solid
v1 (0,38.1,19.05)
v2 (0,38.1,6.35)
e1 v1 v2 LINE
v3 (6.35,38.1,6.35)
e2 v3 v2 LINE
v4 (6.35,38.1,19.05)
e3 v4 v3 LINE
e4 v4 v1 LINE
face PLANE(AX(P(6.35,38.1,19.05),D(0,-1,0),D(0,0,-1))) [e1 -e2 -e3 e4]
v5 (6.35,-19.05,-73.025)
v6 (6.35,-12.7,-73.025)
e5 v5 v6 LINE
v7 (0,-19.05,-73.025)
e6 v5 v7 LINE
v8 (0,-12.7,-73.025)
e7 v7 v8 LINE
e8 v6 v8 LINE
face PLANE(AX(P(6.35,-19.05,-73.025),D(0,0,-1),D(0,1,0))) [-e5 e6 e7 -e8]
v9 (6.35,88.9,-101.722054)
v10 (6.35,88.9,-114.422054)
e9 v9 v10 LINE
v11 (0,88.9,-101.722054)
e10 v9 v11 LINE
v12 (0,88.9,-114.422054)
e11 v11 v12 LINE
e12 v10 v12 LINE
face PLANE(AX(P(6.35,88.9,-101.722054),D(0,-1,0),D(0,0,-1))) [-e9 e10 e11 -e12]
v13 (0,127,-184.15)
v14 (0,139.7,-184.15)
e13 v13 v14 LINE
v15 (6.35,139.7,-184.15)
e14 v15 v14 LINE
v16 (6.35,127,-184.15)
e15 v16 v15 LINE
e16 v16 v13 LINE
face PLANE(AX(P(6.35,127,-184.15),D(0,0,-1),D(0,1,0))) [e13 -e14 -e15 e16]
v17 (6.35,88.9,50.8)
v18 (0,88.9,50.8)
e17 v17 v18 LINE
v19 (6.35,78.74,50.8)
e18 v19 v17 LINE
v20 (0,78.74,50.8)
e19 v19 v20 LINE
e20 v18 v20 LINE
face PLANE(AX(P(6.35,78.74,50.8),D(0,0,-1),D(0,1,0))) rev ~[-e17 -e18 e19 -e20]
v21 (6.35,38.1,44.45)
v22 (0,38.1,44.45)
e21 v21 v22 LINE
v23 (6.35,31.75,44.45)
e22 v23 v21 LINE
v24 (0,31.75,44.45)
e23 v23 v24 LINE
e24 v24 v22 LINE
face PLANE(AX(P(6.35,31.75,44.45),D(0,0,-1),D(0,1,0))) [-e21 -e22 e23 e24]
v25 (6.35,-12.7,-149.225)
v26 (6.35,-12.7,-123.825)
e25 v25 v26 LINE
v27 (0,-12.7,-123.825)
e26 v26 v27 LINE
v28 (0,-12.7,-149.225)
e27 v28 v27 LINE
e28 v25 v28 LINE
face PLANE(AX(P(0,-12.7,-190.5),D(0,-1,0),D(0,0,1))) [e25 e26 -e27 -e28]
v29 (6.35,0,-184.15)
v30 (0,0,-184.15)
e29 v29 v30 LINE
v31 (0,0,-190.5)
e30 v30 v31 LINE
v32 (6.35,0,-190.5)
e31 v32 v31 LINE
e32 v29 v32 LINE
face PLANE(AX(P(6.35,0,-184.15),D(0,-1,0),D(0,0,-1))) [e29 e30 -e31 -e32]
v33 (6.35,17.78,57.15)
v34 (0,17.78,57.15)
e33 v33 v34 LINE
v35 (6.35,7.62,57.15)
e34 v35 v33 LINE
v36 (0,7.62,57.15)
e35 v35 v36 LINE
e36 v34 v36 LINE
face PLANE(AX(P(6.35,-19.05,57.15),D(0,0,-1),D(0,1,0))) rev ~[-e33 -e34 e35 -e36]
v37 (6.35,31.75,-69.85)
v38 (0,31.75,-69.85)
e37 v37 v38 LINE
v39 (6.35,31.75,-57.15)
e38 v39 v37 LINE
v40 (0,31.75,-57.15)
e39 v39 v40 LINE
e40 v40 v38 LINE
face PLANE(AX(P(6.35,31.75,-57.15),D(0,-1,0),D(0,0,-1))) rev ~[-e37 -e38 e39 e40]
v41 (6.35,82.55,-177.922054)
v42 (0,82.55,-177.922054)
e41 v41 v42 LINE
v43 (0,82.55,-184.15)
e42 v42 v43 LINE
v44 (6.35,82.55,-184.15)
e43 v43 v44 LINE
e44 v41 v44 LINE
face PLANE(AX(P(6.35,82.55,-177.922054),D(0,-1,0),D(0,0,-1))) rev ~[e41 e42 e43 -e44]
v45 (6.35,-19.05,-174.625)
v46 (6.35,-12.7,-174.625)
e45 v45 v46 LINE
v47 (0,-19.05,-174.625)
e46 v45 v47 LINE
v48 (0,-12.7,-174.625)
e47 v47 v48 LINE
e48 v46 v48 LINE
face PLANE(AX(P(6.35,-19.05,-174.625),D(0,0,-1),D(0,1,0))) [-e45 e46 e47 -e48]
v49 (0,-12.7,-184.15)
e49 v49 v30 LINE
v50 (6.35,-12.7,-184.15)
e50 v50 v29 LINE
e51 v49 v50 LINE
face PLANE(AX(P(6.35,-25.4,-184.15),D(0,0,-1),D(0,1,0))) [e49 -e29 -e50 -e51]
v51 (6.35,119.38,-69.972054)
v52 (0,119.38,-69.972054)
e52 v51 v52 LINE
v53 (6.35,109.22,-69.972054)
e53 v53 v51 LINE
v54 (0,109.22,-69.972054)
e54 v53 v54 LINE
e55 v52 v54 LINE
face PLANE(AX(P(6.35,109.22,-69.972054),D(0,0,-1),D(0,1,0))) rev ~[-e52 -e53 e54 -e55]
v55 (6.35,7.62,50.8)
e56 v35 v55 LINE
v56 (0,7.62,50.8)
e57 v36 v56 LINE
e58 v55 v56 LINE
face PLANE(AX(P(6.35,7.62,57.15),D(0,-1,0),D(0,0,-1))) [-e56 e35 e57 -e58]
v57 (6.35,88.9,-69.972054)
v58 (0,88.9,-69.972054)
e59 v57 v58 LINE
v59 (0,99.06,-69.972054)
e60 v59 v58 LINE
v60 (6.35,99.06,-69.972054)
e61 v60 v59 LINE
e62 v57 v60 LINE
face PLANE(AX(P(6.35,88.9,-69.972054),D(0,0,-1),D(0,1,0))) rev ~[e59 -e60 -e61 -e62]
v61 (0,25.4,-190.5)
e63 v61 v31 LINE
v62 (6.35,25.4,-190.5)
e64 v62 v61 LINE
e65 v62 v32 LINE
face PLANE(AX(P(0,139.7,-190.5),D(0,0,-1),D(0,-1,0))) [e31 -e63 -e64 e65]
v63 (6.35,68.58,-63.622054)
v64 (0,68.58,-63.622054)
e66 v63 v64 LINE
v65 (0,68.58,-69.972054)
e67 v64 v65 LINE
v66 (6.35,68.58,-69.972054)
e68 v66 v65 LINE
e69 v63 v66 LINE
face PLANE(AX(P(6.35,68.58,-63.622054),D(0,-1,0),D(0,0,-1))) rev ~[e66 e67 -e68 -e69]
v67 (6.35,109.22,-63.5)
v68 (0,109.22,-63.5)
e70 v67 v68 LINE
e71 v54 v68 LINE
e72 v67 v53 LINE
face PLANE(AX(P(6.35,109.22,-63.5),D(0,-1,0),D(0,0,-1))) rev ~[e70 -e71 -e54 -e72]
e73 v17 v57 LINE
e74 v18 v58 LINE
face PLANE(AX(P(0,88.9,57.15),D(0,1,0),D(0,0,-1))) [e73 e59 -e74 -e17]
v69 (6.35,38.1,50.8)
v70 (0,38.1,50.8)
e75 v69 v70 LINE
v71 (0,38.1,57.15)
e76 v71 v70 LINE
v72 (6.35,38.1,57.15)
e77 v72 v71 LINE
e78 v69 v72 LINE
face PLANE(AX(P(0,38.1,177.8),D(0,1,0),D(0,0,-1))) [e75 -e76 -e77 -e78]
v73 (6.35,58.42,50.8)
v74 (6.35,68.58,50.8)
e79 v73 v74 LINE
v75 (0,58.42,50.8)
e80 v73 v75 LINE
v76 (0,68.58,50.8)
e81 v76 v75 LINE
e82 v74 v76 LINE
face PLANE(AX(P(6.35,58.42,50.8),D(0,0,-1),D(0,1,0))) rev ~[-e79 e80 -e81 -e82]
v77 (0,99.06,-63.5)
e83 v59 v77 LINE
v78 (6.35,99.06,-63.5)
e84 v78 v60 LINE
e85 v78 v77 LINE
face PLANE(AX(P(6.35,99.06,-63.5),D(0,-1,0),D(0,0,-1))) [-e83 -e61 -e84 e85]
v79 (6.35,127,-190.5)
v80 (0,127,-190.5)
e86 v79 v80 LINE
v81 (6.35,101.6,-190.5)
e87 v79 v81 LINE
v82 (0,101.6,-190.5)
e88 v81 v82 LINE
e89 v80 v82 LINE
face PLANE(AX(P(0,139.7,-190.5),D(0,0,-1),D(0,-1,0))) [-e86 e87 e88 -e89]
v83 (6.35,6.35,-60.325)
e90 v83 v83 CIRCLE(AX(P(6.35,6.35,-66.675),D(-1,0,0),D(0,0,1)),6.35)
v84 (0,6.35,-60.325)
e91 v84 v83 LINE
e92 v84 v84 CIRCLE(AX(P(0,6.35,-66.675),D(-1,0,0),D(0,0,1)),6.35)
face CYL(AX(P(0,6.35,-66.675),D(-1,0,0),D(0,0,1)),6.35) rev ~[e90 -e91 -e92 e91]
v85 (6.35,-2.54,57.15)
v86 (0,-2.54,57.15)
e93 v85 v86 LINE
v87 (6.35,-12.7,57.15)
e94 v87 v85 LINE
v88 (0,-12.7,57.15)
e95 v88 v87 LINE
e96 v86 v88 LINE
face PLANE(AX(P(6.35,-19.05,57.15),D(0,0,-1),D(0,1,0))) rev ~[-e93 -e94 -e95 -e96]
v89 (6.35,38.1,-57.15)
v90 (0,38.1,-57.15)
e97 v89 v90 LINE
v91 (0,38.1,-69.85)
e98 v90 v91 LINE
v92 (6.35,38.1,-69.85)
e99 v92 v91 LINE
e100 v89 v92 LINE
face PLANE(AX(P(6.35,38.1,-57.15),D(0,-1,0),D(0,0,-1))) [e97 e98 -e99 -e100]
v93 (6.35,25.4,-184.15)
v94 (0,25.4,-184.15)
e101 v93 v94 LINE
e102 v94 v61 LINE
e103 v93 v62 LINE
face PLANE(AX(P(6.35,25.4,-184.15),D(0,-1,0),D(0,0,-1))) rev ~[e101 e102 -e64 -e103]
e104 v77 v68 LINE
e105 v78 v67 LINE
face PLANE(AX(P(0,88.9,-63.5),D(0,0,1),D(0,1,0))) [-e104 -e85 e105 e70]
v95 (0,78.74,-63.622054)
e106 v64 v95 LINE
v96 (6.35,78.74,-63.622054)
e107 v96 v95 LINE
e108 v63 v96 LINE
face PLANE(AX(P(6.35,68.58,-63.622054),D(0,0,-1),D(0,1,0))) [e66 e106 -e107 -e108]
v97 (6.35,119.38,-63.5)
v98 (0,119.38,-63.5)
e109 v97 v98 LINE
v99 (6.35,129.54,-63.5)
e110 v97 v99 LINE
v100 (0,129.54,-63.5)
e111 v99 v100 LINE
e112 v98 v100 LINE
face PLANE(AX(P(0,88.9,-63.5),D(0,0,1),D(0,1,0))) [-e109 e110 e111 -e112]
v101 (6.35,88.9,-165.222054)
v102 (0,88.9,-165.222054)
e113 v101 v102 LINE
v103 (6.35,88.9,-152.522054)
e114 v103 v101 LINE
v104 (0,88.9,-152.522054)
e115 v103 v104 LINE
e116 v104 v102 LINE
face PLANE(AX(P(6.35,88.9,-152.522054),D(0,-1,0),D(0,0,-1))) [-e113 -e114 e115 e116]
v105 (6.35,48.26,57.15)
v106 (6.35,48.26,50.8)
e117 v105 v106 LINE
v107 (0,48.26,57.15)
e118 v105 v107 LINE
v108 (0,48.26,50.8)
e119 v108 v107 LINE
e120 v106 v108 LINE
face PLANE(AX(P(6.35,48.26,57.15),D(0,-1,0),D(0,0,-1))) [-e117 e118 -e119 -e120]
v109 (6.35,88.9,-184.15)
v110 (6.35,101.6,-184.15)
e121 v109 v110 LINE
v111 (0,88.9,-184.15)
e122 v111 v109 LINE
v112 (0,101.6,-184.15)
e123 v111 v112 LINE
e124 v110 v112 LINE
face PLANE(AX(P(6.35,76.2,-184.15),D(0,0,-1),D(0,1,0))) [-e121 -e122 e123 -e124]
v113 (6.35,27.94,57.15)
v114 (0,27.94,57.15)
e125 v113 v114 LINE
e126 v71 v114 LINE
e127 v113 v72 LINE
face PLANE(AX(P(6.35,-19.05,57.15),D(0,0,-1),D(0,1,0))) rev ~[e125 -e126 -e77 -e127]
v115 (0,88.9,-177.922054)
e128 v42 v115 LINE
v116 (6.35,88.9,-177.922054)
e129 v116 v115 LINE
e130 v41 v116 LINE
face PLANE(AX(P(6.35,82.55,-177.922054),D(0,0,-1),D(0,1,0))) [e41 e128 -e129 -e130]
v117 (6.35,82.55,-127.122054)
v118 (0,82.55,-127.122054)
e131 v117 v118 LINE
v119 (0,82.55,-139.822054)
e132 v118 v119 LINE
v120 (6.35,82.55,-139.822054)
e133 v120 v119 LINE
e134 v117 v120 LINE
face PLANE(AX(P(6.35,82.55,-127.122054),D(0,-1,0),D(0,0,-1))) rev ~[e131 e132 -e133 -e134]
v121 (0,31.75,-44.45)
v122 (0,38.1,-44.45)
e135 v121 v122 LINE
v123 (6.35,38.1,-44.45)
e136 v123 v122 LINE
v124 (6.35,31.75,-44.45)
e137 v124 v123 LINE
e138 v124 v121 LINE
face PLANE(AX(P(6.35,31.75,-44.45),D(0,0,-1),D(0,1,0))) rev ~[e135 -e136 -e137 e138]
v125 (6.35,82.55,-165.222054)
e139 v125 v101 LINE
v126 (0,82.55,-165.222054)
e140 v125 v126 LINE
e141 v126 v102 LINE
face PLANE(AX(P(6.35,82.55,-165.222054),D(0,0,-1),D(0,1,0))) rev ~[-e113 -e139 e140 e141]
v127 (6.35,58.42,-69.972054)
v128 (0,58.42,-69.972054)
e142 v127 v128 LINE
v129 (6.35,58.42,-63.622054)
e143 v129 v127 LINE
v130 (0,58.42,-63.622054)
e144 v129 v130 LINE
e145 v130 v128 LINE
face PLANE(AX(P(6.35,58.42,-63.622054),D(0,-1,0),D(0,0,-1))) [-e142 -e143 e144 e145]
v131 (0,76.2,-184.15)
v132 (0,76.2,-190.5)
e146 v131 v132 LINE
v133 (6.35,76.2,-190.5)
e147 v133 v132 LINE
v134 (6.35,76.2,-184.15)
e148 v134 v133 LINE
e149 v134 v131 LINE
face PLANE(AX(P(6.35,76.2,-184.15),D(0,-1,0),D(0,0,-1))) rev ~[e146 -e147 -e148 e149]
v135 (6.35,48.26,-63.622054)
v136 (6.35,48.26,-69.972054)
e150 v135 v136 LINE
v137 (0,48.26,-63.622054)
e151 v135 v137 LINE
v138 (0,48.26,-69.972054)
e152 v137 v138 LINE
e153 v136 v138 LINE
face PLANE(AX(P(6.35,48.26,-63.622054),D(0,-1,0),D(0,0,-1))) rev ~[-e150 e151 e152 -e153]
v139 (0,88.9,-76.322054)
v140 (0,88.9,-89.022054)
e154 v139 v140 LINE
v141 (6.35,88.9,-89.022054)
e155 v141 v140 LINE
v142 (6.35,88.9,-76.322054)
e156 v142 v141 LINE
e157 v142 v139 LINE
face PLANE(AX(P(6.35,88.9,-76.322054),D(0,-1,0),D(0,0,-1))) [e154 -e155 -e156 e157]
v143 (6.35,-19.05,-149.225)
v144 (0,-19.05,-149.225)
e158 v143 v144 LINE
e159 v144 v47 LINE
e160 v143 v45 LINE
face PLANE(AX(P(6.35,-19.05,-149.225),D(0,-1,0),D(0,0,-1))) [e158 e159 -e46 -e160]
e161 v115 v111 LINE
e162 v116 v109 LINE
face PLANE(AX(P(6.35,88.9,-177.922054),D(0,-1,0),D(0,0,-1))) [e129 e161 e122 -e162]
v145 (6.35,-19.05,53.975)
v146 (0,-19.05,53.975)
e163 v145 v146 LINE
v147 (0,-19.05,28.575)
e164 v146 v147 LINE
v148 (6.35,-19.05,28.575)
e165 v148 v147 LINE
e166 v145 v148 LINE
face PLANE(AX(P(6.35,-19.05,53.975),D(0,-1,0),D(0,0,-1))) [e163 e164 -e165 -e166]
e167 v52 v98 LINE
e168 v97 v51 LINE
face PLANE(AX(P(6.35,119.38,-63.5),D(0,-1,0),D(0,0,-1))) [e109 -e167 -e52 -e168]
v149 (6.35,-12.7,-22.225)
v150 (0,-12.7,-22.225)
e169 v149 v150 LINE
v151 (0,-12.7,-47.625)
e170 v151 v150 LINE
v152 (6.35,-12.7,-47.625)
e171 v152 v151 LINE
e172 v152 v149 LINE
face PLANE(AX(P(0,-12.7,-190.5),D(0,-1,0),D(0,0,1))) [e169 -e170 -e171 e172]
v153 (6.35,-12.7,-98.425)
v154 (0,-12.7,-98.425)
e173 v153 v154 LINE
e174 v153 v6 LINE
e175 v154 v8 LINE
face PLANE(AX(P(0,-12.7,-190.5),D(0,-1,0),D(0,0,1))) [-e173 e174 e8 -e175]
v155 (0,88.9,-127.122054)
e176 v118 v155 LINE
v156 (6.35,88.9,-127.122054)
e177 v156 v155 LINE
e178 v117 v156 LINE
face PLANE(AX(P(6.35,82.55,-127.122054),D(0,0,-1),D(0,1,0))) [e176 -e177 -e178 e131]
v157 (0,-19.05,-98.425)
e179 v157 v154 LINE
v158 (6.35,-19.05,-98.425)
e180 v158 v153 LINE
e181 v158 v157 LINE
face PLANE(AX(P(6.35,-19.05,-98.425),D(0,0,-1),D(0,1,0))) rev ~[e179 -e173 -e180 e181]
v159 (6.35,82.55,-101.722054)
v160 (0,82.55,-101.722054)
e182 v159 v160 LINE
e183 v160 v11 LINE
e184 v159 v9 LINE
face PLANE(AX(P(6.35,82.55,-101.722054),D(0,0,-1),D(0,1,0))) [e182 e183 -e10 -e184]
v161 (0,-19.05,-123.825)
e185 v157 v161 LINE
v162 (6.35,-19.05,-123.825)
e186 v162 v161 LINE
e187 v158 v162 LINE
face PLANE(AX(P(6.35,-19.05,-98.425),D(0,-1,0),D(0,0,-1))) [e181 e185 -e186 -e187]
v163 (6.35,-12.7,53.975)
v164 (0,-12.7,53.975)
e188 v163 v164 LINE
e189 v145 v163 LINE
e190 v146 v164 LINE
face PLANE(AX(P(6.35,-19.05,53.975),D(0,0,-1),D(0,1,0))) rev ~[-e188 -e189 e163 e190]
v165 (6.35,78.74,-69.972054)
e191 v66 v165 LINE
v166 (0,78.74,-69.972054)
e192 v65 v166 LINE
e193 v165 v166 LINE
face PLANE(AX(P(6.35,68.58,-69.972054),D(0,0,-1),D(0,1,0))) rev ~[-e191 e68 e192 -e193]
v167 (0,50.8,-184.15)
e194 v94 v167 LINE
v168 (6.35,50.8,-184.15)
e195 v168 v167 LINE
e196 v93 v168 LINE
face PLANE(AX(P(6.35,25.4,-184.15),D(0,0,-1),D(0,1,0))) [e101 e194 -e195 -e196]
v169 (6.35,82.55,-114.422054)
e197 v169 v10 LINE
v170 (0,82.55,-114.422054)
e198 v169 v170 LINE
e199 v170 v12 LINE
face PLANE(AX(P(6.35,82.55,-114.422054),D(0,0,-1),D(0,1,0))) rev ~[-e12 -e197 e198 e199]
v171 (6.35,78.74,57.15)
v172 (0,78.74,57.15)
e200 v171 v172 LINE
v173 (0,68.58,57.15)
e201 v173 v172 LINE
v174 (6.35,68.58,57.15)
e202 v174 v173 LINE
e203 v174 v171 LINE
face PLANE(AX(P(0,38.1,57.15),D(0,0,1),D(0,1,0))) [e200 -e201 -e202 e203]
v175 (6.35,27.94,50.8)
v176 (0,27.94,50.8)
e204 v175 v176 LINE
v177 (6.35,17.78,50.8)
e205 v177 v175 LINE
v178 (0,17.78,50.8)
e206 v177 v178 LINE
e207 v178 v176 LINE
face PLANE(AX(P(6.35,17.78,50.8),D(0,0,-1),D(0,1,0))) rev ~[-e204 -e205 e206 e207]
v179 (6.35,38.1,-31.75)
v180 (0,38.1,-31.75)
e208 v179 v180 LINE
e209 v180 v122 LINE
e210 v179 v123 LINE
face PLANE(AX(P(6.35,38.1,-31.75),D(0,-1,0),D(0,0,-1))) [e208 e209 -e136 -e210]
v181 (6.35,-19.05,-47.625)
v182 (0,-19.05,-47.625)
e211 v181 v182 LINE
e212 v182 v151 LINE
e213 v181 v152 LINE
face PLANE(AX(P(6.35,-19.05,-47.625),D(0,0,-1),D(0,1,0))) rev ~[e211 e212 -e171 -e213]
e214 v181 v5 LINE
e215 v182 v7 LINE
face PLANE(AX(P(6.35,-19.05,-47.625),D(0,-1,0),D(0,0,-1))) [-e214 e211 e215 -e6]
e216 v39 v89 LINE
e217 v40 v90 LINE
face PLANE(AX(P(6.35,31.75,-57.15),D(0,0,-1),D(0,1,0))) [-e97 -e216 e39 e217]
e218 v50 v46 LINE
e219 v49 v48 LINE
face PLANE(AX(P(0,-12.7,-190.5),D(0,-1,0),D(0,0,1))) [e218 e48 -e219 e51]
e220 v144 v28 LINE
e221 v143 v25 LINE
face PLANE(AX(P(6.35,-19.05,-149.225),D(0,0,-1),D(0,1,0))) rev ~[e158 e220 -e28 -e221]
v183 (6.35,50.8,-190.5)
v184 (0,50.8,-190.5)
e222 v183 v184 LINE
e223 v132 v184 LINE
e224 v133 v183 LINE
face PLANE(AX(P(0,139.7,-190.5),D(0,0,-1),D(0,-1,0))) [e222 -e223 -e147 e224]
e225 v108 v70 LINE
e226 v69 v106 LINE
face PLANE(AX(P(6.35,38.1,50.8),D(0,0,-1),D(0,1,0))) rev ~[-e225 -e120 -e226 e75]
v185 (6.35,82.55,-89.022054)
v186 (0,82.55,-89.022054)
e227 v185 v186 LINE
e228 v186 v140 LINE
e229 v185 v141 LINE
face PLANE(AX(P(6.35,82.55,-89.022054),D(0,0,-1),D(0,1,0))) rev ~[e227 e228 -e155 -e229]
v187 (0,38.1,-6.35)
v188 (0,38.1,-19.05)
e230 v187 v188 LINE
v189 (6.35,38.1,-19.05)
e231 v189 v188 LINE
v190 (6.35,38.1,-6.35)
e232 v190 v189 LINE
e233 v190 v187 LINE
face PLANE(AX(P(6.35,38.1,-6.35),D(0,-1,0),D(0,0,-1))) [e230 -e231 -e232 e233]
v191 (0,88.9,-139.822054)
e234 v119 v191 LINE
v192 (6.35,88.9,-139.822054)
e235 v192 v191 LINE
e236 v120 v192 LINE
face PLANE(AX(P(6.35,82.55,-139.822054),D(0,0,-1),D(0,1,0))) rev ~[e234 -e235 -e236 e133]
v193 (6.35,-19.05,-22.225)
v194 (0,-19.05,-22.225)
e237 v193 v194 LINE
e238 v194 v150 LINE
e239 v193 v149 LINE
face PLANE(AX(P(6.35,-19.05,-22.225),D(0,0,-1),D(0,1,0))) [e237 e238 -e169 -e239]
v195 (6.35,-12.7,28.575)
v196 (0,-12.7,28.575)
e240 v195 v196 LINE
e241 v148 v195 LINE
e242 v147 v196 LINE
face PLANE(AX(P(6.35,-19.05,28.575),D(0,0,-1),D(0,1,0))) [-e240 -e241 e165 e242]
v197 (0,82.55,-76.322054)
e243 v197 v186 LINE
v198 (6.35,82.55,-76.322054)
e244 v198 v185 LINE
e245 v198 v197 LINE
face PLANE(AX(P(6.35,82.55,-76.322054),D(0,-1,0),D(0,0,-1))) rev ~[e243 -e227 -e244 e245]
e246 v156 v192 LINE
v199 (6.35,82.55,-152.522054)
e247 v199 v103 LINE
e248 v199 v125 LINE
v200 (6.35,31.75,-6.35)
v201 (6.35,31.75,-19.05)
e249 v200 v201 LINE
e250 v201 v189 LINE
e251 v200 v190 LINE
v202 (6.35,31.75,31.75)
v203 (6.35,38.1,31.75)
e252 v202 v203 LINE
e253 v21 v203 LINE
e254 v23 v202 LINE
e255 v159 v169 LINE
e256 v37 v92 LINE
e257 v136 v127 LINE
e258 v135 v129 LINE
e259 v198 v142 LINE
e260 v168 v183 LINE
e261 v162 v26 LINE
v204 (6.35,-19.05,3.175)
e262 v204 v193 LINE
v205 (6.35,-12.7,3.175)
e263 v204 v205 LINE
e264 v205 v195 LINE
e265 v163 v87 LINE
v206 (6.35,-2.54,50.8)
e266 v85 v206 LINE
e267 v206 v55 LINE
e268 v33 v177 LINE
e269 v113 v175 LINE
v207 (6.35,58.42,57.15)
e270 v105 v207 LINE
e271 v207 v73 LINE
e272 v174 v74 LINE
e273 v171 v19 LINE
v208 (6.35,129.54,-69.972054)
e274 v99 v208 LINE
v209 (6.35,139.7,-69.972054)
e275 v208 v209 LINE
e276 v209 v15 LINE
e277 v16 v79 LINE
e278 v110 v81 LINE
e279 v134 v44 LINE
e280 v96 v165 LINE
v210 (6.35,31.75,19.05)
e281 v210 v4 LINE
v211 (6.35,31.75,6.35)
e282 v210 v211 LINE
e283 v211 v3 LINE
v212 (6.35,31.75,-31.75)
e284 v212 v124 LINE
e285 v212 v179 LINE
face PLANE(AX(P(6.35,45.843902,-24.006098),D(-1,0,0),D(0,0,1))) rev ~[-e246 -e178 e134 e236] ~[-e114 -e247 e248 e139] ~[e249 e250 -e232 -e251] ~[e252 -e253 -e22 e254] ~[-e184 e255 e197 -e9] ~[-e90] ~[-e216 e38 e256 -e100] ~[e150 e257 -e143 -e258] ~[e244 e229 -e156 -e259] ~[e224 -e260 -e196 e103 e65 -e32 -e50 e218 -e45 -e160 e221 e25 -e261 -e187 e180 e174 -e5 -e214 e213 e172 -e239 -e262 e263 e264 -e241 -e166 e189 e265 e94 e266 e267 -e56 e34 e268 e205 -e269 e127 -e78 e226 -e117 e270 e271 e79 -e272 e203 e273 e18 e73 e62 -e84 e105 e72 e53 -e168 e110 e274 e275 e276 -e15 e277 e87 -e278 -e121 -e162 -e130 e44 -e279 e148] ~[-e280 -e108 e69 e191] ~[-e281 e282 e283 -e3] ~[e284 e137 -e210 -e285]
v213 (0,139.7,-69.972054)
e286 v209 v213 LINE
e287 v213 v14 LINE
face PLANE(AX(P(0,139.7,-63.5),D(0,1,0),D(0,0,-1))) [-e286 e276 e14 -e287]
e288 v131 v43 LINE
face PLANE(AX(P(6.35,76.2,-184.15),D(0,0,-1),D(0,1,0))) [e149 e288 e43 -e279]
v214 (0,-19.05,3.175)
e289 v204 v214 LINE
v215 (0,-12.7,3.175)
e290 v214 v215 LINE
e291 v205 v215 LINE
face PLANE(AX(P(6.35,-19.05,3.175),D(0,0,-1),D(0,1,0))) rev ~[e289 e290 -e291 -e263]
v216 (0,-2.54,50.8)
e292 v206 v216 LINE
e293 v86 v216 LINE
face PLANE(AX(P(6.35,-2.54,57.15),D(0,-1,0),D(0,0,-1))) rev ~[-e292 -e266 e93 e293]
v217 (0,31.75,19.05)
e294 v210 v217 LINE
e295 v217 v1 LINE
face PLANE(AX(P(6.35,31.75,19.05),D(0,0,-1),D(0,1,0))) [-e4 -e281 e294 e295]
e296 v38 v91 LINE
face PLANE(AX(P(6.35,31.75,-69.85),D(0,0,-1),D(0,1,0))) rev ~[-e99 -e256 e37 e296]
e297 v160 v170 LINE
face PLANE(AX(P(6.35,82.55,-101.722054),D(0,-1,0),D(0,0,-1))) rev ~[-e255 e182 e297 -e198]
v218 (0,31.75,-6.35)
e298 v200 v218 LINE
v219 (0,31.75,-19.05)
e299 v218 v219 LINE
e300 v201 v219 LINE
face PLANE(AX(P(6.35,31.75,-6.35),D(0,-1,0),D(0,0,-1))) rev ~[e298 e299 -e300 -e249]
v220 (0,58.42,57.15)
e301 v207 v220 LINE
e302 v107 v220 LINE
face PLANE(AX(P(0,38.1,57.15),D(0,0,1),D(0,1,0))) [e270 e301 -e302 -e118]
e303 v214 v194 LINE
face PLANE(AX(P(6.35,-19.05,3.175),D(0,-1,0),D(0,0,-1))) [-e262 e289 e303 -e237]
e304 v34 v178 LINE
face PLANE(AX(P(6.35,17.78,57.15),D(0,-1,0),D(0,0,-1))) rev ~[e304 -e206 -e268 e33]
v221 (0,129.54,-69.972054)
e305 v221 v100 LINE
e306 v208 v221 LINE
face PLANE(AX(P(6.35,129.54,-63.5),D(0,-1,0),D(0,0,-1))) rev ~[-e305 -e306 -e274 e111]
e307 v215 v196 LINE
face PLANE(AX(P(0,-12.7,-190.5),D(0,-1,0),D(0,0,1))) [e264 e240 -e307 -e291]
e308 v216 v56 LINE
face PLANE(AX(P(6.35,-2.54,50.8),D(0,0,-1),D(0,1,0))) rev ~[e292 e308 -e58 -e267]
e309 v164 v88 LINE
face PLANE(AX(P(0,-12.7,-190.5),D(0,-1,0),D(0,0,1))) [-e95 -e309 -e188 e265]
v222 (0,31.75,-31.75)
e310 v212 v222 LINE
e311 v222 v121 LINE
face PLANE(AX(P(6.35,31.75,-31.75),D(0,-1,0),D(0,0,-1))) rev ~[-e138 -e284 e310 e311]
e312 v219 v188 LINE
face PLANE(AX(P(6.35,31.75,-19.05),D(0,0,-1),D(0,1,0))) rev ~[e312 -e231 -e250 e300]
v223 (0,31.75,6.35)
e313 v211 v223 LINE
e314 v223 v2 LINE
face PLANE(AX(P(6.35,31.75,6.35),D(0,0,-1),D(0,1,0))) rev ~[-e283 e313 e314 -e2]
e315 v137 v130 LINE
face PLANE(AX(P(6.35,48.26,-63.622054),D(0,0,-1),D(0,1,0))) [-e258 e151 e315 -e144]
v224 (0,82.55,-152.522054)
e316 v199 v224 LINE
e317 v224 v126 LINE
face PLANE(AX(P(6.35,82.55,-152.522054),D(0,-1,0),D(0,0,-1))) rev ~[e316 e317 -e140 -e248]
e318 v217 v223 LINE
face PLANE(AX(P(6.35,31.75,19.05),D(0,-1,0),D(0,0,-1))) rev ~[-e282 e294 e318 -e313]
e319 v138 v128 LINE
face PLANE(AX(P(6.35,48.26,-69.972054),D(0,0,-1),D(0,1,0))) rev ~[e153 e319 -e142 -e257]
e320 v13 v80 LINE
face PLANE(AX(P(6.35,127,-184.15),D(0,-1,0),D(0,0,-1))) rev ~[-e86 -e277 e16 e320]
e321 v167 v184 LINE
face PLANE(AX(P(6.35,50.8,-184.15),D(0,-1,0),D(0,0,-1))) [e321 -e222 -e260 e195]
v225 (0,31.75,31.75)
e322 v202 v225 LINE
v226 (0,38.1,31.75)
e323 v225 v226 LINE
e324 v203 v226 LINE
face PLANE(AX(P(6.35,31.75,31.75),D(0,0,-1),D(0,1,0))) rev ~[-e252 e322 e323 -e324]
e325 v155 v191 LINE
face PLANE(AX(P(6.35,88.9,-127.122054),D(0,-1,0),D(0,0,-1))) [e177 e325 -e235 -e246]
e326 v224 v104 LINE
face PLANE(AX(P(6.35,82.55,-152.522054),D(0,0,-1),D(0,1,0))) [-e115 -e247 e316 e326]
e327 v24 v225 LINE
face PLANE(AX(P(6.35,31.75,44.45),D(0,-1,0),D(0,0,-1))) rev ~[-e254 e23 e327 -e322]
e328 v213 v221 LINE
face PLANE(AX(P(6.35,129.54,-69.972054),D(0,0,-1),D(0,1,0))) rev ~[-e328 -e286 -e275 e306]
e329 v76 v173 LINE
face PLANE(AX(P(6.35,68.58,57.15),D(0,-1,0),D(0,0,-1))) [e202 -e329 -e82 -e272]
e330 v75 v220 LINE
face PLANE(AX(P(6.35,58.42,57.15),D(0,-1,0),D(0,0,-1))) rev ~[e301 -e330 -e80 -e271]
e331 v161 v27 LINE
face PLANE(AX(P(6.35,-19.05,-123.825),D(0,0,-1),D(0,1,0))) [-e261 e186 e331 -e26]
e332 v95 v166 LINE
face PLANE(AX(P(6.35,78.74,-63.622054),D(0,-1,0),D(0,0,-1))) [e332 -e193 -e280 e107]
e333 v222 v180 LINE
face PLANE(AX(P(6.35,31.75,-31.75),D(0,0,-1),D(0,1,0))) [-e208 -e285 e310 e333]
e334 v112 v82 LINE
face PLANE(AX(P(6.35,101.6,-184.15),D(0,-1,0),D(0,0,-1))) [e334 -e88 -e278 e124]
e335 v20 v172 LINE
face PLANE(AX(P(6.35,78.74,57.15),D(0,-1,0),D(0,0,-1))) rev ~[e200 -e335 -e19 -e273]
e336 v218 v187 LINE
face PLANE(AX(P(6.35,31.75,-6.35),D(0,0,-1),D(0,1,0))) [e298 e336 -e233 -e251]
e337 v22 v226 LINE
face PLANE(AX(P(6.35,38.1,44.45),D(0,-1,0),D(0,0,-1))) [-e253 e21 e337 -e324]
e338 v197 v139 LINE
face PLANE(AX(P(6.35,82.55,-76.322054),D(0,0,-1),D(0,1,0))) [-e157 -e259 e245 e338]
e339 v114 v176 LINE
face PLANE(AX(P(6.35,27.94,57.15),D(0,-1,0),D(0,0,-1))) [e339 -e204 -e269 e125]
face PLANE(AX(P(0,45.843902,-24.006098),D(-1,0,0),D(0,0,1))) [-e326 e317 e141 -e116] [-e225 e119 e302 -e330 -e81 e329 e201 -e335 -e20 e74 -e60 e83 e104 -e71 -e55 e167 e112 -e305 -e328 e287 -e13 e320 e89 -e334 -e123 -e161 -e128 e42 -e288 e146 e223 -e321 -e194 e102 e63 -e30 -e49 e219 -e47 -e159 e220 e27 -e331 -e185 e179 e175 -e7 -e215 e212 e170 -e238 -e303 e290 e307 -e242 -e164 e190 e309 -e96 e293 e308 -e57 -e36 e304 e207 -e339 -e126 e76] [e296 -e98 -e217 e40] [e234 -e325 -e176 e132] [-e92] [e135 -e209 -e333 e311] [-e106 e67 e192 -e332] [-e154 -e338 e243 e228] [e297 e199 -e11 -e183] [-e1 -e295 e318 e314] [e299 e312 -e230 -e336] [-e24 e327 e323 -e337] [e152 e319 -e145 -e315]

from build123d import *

# Parameters (mm, degrees)
BOSS_EXTRU_1_DEPTH         = 6.35
ESQUISSE4_W                = 6.35
ESQUISSE4_H                = 10.16
ESQUISSE4_W_2              = 6.472054313
ENL_V_MAT_EXTRU_1_DEPTH    = 237.318984637
R_P_TITION_LIN_AIRE3_COUNT = 3
R_P_TITION_LIN_AIRE3_PITCH = 20.32
ESQUISSE6_W                = 25.4
ESQUISSE6_H                = 6.35
BOSS_EXTRU_3_DEPTH         = 6.35
R_P_TITION_LIN_AIRE4_COUNT = 7
R_P_TITION_LIN_AIRE4_PITCH = 50.8
ESQUISSE7_W                = 6.35
ESQUISSE7_H                = 10.16
ENL_V_MAT_EXTRU_2_DEPTH    = 6.35
ESQUISSE8_W                = 12.7
ESQUISSE8_H                = 6.35
ENL_V_MAT_EXTRU_3_DEPTH    = 6.35
R_P_TITION_LIN_AIRE6_COUNT = 5
R_P_TITION_LIN_AIRE6_PITCH = 25.4
ESQUISSE9_W                = 6.35
ESQUISSE9_H                = 25.4
ENL_V_MAT_EXTRU_4_DEPTH    = 6.35
R_P_TITION_LIN_AIRE7_COUNT = 3
R_P_TITION_LIN_AIRE7_PITCH = 50.8
ESQUISSE10_W               = 6.35
ESQUISSE10_H               = 12.7
ENL_V_MAT_EXTRU_5_DEPTH    = 6.35
SKETCH1_W                  = 120.65
SKETCH1_H                  = 57.15
CUT_EXTRUDE1_DEPTH         = 237.318984637
ENL_V_MAT_EXTRU_6_REACH    = 238.319
ESQUISSE11_R               = 6.35


with BuildPart() as part:
    # Esquisse1 → Boss.-Extru.1 (new body)
    with BuildSketch(Plane(origin=(0, 0, 0), x_dir=(0, 0, -1), z_dir=(1, 0, 0))):
        Polygon((-57.15, 38.1), (-57.15, 88.9), (63.5, 88.9), (63.5, 139.7), (190.5, 139.7), (190.5, -12.7), (-177.8, -12.7), (-177.8, 38.1), align=None)
    extrude(amount=BOSS_EXTRU_1_DEPTH)

    # Esquisse4 → Enlèv. mat.-Extru.1 (cut, through all)
    with BuildSketch(Plane(origin=(6.35, 0, 0), x_dir=(0, 0, -1), z_dir=(1, 0, 0))):
        with Locations((-174.625, -7.62)):
            Rectangle(ESQUISSE4_W, ESQUISSE4_H)
        with Locations((-53.975, 43.18)):
            Rectangle(ESQUISSE4_W, ESQUISSE4_H)
        with Locations((66.736027157, 93.98)):
            Rectangle(ESQUISSE4_W_2, ESQUISSE4_H)
    enl_v_mat_extru_1 = extrude(amount=-ENL_V_MAT_EXTRU_1_DEPTH, mode=Mode.SUBTRACT)

    # Répétition linéaire3: Enlèv. mat.-Extru.1 ×3
    with Locations(*[(0, i * R_P_TITION_LIN_AIRE3_PITCH, 0) for i in range(1, R_P_TITION_LIN_AIRE3_COUNT)]):
        add(enl_v_mat_extru_1, mode=Mode.SUBTRACT)

    # Esquisse6 → Boss.-Extru.3 (add)
    with BuildSketch(Plane(origin=(6.35, 0, 0), x_dir=(0, 0, -1), z_dir=(1, 0, 0))):
        with Locations((-142.875, -15.875)):
            Rectangle(ESQUISSE6_W, ESQUISSE6_H)
    boss_extru_3 = extrude(amount=-BOSS_EXTRU_3_DEPTH)

    # Répétition linéaire4: Boss.-Extru.3 ×7
    with Locations(*[(0, 0, -i * R_P_TITION_LIN_AIRE4_PITCH) for i in range(1, R_P_TITION_LIN_AIRE4_COUNT)]):
        add(boss_extru_3)

    # Esquisse7 → Enlèv. mat.-Extru.2 (cut)
    with BuildSketch(Plane(origin=(6.35, 0, 0), x_dir=(0, 0, -1), z_dir=(1, 0, 0))):
        with Locations((-53.975, 22.86)):
            Rectangle(ESQUISSE7_W, ESQUISSE7_H)
        with Locations((66.797054313, 73.66)):
            Rectangle(ESQUISSE7_W, ESQUISSE7_H)
        with Locations((-53.975, 2.54)):
            Rectangle(ESQUISSE7_W, ESQUISSE7_H)
        with Locations((66.797054313, 53.34)):
            Rectangle(ESQUISSE7_W, ESQUISSE7_H)
    extrude(amount=-ENL_V_MAT_EXTRU_2_DEPTH, mode=Mode.SUBTRACT)

    # Esquisse8 → Enlèv. mat.-Extru.3 (cut)
    with BuildSketch(Plane(origin=(6.35, 0, 0), x_dir=(0, 0, -1), z_dir=(1, 0, 0))):
        with Locations((-38.1, 34.925)):
            Rectangle(ESQUISSE8_W, ESQUISSE8_H)
        with Locations((82.672054313, 85.725)):
            Rectangle(ESQUISSE8_W, ESQUISSE8_H)
    enl_v_mat_extru_3 = extrude(amount=-ENL_V_MAT_EXTRU_3_DEPTH, mode=Mode.SUBTRACT)

    # Répétition linéaire6: Enlèv. mat.-Extru.3 ×5
    with Locations(*[(0, 0, -i * R_P_TITION_LIN_AIRE6_PITCH) for i in range(1, R_P_TITION_LIN_AIRE6_COUNT)]):
        add(enl_v_mat_extru_3, mode=Mode.SUBTRACT)

    # Esquisse9 → Enlèv. mat.-Extru.4 (cut)
    with BuildSketch(Plane(origin=(6.35, 0, 0), x_dir=(0, 0, -1), z_dir=(1, 0, 0))):
        with Locations((187.325, 88.9)):
            Rectangle(ESQUISSE9_W, ESQUISSE9_H)
    enl_v_mat_extru_4 = extrude(amount=-ENL_V_MAT_EXTRU_4_DEPTH, mode=Mode.SUBTRACT)

    # Répétition linéaire7: Enlèv. mat.-Extru.4 ×3
    with Locations(*[(0, -i * R_P_TITION_LIN_AIRE7_PITCH, 0) for i in range(1, R_P_TITION_LIN_AIRE7_COUNT)]):
        add(enl_v_mat_extru_4, mode=Mode.SUBTRACT)

    # Esquisse10 → Enlèv. mat.-Extru.5 (cut)
    with BuildSketch(Plane(origin=(6.35, 0, 0), x_dir=(0, 0, -1), z_dir=(1, 0, 0))):
        with Locations((187.325, 133.35)):
            Rectangle(ESQUISSE10_W, ESQUISSE10_H)
    extrude(amount=-ENL_V_MAT_EXTRU_5_DEPTH, mode=Mode.SUBTRACT)

    # Sketch1 → Cut-Extrude1 (cut, through all)
    with BuildSketch(Plane(origin=(6.35, 0, 0), x_dir=(0, 0, -1), z_dir=(1, 0, 0))):
        with Locations((-117.475, 9.525)):
            Rectangle(SKETCH1_W, SKETCH1_H)
    extrude(amount=-CUT_EXTRUDE1_DEPTH, mode=Mode.SUBTRACT)

    # Esquisse11 → Enlèv. mat.-Extru.6 (cut, up to next)
    with BuildSketch(Plane.ZY, mode=Mode.PRIVATE) as enl_v_mat_extru_6_sk1:
        with Locations((-66.675, 6.35)):
            Circle(ESQUISSE11_R)
    enl_v_mat_extru_6_tool1 = extrude(enl_v_mat_extru_6_sk1.sketch, amount=-ENL_V_MAT_EXTRU_6_REACH, mode=Mode.PRIVATE) & part.part
    add(enl_v_mat_extru_6_tool1.solids().sort_by_distance((0, 6.35, -66.675))[0], mode=Mode.SUBTRACT)


solid = part.part
